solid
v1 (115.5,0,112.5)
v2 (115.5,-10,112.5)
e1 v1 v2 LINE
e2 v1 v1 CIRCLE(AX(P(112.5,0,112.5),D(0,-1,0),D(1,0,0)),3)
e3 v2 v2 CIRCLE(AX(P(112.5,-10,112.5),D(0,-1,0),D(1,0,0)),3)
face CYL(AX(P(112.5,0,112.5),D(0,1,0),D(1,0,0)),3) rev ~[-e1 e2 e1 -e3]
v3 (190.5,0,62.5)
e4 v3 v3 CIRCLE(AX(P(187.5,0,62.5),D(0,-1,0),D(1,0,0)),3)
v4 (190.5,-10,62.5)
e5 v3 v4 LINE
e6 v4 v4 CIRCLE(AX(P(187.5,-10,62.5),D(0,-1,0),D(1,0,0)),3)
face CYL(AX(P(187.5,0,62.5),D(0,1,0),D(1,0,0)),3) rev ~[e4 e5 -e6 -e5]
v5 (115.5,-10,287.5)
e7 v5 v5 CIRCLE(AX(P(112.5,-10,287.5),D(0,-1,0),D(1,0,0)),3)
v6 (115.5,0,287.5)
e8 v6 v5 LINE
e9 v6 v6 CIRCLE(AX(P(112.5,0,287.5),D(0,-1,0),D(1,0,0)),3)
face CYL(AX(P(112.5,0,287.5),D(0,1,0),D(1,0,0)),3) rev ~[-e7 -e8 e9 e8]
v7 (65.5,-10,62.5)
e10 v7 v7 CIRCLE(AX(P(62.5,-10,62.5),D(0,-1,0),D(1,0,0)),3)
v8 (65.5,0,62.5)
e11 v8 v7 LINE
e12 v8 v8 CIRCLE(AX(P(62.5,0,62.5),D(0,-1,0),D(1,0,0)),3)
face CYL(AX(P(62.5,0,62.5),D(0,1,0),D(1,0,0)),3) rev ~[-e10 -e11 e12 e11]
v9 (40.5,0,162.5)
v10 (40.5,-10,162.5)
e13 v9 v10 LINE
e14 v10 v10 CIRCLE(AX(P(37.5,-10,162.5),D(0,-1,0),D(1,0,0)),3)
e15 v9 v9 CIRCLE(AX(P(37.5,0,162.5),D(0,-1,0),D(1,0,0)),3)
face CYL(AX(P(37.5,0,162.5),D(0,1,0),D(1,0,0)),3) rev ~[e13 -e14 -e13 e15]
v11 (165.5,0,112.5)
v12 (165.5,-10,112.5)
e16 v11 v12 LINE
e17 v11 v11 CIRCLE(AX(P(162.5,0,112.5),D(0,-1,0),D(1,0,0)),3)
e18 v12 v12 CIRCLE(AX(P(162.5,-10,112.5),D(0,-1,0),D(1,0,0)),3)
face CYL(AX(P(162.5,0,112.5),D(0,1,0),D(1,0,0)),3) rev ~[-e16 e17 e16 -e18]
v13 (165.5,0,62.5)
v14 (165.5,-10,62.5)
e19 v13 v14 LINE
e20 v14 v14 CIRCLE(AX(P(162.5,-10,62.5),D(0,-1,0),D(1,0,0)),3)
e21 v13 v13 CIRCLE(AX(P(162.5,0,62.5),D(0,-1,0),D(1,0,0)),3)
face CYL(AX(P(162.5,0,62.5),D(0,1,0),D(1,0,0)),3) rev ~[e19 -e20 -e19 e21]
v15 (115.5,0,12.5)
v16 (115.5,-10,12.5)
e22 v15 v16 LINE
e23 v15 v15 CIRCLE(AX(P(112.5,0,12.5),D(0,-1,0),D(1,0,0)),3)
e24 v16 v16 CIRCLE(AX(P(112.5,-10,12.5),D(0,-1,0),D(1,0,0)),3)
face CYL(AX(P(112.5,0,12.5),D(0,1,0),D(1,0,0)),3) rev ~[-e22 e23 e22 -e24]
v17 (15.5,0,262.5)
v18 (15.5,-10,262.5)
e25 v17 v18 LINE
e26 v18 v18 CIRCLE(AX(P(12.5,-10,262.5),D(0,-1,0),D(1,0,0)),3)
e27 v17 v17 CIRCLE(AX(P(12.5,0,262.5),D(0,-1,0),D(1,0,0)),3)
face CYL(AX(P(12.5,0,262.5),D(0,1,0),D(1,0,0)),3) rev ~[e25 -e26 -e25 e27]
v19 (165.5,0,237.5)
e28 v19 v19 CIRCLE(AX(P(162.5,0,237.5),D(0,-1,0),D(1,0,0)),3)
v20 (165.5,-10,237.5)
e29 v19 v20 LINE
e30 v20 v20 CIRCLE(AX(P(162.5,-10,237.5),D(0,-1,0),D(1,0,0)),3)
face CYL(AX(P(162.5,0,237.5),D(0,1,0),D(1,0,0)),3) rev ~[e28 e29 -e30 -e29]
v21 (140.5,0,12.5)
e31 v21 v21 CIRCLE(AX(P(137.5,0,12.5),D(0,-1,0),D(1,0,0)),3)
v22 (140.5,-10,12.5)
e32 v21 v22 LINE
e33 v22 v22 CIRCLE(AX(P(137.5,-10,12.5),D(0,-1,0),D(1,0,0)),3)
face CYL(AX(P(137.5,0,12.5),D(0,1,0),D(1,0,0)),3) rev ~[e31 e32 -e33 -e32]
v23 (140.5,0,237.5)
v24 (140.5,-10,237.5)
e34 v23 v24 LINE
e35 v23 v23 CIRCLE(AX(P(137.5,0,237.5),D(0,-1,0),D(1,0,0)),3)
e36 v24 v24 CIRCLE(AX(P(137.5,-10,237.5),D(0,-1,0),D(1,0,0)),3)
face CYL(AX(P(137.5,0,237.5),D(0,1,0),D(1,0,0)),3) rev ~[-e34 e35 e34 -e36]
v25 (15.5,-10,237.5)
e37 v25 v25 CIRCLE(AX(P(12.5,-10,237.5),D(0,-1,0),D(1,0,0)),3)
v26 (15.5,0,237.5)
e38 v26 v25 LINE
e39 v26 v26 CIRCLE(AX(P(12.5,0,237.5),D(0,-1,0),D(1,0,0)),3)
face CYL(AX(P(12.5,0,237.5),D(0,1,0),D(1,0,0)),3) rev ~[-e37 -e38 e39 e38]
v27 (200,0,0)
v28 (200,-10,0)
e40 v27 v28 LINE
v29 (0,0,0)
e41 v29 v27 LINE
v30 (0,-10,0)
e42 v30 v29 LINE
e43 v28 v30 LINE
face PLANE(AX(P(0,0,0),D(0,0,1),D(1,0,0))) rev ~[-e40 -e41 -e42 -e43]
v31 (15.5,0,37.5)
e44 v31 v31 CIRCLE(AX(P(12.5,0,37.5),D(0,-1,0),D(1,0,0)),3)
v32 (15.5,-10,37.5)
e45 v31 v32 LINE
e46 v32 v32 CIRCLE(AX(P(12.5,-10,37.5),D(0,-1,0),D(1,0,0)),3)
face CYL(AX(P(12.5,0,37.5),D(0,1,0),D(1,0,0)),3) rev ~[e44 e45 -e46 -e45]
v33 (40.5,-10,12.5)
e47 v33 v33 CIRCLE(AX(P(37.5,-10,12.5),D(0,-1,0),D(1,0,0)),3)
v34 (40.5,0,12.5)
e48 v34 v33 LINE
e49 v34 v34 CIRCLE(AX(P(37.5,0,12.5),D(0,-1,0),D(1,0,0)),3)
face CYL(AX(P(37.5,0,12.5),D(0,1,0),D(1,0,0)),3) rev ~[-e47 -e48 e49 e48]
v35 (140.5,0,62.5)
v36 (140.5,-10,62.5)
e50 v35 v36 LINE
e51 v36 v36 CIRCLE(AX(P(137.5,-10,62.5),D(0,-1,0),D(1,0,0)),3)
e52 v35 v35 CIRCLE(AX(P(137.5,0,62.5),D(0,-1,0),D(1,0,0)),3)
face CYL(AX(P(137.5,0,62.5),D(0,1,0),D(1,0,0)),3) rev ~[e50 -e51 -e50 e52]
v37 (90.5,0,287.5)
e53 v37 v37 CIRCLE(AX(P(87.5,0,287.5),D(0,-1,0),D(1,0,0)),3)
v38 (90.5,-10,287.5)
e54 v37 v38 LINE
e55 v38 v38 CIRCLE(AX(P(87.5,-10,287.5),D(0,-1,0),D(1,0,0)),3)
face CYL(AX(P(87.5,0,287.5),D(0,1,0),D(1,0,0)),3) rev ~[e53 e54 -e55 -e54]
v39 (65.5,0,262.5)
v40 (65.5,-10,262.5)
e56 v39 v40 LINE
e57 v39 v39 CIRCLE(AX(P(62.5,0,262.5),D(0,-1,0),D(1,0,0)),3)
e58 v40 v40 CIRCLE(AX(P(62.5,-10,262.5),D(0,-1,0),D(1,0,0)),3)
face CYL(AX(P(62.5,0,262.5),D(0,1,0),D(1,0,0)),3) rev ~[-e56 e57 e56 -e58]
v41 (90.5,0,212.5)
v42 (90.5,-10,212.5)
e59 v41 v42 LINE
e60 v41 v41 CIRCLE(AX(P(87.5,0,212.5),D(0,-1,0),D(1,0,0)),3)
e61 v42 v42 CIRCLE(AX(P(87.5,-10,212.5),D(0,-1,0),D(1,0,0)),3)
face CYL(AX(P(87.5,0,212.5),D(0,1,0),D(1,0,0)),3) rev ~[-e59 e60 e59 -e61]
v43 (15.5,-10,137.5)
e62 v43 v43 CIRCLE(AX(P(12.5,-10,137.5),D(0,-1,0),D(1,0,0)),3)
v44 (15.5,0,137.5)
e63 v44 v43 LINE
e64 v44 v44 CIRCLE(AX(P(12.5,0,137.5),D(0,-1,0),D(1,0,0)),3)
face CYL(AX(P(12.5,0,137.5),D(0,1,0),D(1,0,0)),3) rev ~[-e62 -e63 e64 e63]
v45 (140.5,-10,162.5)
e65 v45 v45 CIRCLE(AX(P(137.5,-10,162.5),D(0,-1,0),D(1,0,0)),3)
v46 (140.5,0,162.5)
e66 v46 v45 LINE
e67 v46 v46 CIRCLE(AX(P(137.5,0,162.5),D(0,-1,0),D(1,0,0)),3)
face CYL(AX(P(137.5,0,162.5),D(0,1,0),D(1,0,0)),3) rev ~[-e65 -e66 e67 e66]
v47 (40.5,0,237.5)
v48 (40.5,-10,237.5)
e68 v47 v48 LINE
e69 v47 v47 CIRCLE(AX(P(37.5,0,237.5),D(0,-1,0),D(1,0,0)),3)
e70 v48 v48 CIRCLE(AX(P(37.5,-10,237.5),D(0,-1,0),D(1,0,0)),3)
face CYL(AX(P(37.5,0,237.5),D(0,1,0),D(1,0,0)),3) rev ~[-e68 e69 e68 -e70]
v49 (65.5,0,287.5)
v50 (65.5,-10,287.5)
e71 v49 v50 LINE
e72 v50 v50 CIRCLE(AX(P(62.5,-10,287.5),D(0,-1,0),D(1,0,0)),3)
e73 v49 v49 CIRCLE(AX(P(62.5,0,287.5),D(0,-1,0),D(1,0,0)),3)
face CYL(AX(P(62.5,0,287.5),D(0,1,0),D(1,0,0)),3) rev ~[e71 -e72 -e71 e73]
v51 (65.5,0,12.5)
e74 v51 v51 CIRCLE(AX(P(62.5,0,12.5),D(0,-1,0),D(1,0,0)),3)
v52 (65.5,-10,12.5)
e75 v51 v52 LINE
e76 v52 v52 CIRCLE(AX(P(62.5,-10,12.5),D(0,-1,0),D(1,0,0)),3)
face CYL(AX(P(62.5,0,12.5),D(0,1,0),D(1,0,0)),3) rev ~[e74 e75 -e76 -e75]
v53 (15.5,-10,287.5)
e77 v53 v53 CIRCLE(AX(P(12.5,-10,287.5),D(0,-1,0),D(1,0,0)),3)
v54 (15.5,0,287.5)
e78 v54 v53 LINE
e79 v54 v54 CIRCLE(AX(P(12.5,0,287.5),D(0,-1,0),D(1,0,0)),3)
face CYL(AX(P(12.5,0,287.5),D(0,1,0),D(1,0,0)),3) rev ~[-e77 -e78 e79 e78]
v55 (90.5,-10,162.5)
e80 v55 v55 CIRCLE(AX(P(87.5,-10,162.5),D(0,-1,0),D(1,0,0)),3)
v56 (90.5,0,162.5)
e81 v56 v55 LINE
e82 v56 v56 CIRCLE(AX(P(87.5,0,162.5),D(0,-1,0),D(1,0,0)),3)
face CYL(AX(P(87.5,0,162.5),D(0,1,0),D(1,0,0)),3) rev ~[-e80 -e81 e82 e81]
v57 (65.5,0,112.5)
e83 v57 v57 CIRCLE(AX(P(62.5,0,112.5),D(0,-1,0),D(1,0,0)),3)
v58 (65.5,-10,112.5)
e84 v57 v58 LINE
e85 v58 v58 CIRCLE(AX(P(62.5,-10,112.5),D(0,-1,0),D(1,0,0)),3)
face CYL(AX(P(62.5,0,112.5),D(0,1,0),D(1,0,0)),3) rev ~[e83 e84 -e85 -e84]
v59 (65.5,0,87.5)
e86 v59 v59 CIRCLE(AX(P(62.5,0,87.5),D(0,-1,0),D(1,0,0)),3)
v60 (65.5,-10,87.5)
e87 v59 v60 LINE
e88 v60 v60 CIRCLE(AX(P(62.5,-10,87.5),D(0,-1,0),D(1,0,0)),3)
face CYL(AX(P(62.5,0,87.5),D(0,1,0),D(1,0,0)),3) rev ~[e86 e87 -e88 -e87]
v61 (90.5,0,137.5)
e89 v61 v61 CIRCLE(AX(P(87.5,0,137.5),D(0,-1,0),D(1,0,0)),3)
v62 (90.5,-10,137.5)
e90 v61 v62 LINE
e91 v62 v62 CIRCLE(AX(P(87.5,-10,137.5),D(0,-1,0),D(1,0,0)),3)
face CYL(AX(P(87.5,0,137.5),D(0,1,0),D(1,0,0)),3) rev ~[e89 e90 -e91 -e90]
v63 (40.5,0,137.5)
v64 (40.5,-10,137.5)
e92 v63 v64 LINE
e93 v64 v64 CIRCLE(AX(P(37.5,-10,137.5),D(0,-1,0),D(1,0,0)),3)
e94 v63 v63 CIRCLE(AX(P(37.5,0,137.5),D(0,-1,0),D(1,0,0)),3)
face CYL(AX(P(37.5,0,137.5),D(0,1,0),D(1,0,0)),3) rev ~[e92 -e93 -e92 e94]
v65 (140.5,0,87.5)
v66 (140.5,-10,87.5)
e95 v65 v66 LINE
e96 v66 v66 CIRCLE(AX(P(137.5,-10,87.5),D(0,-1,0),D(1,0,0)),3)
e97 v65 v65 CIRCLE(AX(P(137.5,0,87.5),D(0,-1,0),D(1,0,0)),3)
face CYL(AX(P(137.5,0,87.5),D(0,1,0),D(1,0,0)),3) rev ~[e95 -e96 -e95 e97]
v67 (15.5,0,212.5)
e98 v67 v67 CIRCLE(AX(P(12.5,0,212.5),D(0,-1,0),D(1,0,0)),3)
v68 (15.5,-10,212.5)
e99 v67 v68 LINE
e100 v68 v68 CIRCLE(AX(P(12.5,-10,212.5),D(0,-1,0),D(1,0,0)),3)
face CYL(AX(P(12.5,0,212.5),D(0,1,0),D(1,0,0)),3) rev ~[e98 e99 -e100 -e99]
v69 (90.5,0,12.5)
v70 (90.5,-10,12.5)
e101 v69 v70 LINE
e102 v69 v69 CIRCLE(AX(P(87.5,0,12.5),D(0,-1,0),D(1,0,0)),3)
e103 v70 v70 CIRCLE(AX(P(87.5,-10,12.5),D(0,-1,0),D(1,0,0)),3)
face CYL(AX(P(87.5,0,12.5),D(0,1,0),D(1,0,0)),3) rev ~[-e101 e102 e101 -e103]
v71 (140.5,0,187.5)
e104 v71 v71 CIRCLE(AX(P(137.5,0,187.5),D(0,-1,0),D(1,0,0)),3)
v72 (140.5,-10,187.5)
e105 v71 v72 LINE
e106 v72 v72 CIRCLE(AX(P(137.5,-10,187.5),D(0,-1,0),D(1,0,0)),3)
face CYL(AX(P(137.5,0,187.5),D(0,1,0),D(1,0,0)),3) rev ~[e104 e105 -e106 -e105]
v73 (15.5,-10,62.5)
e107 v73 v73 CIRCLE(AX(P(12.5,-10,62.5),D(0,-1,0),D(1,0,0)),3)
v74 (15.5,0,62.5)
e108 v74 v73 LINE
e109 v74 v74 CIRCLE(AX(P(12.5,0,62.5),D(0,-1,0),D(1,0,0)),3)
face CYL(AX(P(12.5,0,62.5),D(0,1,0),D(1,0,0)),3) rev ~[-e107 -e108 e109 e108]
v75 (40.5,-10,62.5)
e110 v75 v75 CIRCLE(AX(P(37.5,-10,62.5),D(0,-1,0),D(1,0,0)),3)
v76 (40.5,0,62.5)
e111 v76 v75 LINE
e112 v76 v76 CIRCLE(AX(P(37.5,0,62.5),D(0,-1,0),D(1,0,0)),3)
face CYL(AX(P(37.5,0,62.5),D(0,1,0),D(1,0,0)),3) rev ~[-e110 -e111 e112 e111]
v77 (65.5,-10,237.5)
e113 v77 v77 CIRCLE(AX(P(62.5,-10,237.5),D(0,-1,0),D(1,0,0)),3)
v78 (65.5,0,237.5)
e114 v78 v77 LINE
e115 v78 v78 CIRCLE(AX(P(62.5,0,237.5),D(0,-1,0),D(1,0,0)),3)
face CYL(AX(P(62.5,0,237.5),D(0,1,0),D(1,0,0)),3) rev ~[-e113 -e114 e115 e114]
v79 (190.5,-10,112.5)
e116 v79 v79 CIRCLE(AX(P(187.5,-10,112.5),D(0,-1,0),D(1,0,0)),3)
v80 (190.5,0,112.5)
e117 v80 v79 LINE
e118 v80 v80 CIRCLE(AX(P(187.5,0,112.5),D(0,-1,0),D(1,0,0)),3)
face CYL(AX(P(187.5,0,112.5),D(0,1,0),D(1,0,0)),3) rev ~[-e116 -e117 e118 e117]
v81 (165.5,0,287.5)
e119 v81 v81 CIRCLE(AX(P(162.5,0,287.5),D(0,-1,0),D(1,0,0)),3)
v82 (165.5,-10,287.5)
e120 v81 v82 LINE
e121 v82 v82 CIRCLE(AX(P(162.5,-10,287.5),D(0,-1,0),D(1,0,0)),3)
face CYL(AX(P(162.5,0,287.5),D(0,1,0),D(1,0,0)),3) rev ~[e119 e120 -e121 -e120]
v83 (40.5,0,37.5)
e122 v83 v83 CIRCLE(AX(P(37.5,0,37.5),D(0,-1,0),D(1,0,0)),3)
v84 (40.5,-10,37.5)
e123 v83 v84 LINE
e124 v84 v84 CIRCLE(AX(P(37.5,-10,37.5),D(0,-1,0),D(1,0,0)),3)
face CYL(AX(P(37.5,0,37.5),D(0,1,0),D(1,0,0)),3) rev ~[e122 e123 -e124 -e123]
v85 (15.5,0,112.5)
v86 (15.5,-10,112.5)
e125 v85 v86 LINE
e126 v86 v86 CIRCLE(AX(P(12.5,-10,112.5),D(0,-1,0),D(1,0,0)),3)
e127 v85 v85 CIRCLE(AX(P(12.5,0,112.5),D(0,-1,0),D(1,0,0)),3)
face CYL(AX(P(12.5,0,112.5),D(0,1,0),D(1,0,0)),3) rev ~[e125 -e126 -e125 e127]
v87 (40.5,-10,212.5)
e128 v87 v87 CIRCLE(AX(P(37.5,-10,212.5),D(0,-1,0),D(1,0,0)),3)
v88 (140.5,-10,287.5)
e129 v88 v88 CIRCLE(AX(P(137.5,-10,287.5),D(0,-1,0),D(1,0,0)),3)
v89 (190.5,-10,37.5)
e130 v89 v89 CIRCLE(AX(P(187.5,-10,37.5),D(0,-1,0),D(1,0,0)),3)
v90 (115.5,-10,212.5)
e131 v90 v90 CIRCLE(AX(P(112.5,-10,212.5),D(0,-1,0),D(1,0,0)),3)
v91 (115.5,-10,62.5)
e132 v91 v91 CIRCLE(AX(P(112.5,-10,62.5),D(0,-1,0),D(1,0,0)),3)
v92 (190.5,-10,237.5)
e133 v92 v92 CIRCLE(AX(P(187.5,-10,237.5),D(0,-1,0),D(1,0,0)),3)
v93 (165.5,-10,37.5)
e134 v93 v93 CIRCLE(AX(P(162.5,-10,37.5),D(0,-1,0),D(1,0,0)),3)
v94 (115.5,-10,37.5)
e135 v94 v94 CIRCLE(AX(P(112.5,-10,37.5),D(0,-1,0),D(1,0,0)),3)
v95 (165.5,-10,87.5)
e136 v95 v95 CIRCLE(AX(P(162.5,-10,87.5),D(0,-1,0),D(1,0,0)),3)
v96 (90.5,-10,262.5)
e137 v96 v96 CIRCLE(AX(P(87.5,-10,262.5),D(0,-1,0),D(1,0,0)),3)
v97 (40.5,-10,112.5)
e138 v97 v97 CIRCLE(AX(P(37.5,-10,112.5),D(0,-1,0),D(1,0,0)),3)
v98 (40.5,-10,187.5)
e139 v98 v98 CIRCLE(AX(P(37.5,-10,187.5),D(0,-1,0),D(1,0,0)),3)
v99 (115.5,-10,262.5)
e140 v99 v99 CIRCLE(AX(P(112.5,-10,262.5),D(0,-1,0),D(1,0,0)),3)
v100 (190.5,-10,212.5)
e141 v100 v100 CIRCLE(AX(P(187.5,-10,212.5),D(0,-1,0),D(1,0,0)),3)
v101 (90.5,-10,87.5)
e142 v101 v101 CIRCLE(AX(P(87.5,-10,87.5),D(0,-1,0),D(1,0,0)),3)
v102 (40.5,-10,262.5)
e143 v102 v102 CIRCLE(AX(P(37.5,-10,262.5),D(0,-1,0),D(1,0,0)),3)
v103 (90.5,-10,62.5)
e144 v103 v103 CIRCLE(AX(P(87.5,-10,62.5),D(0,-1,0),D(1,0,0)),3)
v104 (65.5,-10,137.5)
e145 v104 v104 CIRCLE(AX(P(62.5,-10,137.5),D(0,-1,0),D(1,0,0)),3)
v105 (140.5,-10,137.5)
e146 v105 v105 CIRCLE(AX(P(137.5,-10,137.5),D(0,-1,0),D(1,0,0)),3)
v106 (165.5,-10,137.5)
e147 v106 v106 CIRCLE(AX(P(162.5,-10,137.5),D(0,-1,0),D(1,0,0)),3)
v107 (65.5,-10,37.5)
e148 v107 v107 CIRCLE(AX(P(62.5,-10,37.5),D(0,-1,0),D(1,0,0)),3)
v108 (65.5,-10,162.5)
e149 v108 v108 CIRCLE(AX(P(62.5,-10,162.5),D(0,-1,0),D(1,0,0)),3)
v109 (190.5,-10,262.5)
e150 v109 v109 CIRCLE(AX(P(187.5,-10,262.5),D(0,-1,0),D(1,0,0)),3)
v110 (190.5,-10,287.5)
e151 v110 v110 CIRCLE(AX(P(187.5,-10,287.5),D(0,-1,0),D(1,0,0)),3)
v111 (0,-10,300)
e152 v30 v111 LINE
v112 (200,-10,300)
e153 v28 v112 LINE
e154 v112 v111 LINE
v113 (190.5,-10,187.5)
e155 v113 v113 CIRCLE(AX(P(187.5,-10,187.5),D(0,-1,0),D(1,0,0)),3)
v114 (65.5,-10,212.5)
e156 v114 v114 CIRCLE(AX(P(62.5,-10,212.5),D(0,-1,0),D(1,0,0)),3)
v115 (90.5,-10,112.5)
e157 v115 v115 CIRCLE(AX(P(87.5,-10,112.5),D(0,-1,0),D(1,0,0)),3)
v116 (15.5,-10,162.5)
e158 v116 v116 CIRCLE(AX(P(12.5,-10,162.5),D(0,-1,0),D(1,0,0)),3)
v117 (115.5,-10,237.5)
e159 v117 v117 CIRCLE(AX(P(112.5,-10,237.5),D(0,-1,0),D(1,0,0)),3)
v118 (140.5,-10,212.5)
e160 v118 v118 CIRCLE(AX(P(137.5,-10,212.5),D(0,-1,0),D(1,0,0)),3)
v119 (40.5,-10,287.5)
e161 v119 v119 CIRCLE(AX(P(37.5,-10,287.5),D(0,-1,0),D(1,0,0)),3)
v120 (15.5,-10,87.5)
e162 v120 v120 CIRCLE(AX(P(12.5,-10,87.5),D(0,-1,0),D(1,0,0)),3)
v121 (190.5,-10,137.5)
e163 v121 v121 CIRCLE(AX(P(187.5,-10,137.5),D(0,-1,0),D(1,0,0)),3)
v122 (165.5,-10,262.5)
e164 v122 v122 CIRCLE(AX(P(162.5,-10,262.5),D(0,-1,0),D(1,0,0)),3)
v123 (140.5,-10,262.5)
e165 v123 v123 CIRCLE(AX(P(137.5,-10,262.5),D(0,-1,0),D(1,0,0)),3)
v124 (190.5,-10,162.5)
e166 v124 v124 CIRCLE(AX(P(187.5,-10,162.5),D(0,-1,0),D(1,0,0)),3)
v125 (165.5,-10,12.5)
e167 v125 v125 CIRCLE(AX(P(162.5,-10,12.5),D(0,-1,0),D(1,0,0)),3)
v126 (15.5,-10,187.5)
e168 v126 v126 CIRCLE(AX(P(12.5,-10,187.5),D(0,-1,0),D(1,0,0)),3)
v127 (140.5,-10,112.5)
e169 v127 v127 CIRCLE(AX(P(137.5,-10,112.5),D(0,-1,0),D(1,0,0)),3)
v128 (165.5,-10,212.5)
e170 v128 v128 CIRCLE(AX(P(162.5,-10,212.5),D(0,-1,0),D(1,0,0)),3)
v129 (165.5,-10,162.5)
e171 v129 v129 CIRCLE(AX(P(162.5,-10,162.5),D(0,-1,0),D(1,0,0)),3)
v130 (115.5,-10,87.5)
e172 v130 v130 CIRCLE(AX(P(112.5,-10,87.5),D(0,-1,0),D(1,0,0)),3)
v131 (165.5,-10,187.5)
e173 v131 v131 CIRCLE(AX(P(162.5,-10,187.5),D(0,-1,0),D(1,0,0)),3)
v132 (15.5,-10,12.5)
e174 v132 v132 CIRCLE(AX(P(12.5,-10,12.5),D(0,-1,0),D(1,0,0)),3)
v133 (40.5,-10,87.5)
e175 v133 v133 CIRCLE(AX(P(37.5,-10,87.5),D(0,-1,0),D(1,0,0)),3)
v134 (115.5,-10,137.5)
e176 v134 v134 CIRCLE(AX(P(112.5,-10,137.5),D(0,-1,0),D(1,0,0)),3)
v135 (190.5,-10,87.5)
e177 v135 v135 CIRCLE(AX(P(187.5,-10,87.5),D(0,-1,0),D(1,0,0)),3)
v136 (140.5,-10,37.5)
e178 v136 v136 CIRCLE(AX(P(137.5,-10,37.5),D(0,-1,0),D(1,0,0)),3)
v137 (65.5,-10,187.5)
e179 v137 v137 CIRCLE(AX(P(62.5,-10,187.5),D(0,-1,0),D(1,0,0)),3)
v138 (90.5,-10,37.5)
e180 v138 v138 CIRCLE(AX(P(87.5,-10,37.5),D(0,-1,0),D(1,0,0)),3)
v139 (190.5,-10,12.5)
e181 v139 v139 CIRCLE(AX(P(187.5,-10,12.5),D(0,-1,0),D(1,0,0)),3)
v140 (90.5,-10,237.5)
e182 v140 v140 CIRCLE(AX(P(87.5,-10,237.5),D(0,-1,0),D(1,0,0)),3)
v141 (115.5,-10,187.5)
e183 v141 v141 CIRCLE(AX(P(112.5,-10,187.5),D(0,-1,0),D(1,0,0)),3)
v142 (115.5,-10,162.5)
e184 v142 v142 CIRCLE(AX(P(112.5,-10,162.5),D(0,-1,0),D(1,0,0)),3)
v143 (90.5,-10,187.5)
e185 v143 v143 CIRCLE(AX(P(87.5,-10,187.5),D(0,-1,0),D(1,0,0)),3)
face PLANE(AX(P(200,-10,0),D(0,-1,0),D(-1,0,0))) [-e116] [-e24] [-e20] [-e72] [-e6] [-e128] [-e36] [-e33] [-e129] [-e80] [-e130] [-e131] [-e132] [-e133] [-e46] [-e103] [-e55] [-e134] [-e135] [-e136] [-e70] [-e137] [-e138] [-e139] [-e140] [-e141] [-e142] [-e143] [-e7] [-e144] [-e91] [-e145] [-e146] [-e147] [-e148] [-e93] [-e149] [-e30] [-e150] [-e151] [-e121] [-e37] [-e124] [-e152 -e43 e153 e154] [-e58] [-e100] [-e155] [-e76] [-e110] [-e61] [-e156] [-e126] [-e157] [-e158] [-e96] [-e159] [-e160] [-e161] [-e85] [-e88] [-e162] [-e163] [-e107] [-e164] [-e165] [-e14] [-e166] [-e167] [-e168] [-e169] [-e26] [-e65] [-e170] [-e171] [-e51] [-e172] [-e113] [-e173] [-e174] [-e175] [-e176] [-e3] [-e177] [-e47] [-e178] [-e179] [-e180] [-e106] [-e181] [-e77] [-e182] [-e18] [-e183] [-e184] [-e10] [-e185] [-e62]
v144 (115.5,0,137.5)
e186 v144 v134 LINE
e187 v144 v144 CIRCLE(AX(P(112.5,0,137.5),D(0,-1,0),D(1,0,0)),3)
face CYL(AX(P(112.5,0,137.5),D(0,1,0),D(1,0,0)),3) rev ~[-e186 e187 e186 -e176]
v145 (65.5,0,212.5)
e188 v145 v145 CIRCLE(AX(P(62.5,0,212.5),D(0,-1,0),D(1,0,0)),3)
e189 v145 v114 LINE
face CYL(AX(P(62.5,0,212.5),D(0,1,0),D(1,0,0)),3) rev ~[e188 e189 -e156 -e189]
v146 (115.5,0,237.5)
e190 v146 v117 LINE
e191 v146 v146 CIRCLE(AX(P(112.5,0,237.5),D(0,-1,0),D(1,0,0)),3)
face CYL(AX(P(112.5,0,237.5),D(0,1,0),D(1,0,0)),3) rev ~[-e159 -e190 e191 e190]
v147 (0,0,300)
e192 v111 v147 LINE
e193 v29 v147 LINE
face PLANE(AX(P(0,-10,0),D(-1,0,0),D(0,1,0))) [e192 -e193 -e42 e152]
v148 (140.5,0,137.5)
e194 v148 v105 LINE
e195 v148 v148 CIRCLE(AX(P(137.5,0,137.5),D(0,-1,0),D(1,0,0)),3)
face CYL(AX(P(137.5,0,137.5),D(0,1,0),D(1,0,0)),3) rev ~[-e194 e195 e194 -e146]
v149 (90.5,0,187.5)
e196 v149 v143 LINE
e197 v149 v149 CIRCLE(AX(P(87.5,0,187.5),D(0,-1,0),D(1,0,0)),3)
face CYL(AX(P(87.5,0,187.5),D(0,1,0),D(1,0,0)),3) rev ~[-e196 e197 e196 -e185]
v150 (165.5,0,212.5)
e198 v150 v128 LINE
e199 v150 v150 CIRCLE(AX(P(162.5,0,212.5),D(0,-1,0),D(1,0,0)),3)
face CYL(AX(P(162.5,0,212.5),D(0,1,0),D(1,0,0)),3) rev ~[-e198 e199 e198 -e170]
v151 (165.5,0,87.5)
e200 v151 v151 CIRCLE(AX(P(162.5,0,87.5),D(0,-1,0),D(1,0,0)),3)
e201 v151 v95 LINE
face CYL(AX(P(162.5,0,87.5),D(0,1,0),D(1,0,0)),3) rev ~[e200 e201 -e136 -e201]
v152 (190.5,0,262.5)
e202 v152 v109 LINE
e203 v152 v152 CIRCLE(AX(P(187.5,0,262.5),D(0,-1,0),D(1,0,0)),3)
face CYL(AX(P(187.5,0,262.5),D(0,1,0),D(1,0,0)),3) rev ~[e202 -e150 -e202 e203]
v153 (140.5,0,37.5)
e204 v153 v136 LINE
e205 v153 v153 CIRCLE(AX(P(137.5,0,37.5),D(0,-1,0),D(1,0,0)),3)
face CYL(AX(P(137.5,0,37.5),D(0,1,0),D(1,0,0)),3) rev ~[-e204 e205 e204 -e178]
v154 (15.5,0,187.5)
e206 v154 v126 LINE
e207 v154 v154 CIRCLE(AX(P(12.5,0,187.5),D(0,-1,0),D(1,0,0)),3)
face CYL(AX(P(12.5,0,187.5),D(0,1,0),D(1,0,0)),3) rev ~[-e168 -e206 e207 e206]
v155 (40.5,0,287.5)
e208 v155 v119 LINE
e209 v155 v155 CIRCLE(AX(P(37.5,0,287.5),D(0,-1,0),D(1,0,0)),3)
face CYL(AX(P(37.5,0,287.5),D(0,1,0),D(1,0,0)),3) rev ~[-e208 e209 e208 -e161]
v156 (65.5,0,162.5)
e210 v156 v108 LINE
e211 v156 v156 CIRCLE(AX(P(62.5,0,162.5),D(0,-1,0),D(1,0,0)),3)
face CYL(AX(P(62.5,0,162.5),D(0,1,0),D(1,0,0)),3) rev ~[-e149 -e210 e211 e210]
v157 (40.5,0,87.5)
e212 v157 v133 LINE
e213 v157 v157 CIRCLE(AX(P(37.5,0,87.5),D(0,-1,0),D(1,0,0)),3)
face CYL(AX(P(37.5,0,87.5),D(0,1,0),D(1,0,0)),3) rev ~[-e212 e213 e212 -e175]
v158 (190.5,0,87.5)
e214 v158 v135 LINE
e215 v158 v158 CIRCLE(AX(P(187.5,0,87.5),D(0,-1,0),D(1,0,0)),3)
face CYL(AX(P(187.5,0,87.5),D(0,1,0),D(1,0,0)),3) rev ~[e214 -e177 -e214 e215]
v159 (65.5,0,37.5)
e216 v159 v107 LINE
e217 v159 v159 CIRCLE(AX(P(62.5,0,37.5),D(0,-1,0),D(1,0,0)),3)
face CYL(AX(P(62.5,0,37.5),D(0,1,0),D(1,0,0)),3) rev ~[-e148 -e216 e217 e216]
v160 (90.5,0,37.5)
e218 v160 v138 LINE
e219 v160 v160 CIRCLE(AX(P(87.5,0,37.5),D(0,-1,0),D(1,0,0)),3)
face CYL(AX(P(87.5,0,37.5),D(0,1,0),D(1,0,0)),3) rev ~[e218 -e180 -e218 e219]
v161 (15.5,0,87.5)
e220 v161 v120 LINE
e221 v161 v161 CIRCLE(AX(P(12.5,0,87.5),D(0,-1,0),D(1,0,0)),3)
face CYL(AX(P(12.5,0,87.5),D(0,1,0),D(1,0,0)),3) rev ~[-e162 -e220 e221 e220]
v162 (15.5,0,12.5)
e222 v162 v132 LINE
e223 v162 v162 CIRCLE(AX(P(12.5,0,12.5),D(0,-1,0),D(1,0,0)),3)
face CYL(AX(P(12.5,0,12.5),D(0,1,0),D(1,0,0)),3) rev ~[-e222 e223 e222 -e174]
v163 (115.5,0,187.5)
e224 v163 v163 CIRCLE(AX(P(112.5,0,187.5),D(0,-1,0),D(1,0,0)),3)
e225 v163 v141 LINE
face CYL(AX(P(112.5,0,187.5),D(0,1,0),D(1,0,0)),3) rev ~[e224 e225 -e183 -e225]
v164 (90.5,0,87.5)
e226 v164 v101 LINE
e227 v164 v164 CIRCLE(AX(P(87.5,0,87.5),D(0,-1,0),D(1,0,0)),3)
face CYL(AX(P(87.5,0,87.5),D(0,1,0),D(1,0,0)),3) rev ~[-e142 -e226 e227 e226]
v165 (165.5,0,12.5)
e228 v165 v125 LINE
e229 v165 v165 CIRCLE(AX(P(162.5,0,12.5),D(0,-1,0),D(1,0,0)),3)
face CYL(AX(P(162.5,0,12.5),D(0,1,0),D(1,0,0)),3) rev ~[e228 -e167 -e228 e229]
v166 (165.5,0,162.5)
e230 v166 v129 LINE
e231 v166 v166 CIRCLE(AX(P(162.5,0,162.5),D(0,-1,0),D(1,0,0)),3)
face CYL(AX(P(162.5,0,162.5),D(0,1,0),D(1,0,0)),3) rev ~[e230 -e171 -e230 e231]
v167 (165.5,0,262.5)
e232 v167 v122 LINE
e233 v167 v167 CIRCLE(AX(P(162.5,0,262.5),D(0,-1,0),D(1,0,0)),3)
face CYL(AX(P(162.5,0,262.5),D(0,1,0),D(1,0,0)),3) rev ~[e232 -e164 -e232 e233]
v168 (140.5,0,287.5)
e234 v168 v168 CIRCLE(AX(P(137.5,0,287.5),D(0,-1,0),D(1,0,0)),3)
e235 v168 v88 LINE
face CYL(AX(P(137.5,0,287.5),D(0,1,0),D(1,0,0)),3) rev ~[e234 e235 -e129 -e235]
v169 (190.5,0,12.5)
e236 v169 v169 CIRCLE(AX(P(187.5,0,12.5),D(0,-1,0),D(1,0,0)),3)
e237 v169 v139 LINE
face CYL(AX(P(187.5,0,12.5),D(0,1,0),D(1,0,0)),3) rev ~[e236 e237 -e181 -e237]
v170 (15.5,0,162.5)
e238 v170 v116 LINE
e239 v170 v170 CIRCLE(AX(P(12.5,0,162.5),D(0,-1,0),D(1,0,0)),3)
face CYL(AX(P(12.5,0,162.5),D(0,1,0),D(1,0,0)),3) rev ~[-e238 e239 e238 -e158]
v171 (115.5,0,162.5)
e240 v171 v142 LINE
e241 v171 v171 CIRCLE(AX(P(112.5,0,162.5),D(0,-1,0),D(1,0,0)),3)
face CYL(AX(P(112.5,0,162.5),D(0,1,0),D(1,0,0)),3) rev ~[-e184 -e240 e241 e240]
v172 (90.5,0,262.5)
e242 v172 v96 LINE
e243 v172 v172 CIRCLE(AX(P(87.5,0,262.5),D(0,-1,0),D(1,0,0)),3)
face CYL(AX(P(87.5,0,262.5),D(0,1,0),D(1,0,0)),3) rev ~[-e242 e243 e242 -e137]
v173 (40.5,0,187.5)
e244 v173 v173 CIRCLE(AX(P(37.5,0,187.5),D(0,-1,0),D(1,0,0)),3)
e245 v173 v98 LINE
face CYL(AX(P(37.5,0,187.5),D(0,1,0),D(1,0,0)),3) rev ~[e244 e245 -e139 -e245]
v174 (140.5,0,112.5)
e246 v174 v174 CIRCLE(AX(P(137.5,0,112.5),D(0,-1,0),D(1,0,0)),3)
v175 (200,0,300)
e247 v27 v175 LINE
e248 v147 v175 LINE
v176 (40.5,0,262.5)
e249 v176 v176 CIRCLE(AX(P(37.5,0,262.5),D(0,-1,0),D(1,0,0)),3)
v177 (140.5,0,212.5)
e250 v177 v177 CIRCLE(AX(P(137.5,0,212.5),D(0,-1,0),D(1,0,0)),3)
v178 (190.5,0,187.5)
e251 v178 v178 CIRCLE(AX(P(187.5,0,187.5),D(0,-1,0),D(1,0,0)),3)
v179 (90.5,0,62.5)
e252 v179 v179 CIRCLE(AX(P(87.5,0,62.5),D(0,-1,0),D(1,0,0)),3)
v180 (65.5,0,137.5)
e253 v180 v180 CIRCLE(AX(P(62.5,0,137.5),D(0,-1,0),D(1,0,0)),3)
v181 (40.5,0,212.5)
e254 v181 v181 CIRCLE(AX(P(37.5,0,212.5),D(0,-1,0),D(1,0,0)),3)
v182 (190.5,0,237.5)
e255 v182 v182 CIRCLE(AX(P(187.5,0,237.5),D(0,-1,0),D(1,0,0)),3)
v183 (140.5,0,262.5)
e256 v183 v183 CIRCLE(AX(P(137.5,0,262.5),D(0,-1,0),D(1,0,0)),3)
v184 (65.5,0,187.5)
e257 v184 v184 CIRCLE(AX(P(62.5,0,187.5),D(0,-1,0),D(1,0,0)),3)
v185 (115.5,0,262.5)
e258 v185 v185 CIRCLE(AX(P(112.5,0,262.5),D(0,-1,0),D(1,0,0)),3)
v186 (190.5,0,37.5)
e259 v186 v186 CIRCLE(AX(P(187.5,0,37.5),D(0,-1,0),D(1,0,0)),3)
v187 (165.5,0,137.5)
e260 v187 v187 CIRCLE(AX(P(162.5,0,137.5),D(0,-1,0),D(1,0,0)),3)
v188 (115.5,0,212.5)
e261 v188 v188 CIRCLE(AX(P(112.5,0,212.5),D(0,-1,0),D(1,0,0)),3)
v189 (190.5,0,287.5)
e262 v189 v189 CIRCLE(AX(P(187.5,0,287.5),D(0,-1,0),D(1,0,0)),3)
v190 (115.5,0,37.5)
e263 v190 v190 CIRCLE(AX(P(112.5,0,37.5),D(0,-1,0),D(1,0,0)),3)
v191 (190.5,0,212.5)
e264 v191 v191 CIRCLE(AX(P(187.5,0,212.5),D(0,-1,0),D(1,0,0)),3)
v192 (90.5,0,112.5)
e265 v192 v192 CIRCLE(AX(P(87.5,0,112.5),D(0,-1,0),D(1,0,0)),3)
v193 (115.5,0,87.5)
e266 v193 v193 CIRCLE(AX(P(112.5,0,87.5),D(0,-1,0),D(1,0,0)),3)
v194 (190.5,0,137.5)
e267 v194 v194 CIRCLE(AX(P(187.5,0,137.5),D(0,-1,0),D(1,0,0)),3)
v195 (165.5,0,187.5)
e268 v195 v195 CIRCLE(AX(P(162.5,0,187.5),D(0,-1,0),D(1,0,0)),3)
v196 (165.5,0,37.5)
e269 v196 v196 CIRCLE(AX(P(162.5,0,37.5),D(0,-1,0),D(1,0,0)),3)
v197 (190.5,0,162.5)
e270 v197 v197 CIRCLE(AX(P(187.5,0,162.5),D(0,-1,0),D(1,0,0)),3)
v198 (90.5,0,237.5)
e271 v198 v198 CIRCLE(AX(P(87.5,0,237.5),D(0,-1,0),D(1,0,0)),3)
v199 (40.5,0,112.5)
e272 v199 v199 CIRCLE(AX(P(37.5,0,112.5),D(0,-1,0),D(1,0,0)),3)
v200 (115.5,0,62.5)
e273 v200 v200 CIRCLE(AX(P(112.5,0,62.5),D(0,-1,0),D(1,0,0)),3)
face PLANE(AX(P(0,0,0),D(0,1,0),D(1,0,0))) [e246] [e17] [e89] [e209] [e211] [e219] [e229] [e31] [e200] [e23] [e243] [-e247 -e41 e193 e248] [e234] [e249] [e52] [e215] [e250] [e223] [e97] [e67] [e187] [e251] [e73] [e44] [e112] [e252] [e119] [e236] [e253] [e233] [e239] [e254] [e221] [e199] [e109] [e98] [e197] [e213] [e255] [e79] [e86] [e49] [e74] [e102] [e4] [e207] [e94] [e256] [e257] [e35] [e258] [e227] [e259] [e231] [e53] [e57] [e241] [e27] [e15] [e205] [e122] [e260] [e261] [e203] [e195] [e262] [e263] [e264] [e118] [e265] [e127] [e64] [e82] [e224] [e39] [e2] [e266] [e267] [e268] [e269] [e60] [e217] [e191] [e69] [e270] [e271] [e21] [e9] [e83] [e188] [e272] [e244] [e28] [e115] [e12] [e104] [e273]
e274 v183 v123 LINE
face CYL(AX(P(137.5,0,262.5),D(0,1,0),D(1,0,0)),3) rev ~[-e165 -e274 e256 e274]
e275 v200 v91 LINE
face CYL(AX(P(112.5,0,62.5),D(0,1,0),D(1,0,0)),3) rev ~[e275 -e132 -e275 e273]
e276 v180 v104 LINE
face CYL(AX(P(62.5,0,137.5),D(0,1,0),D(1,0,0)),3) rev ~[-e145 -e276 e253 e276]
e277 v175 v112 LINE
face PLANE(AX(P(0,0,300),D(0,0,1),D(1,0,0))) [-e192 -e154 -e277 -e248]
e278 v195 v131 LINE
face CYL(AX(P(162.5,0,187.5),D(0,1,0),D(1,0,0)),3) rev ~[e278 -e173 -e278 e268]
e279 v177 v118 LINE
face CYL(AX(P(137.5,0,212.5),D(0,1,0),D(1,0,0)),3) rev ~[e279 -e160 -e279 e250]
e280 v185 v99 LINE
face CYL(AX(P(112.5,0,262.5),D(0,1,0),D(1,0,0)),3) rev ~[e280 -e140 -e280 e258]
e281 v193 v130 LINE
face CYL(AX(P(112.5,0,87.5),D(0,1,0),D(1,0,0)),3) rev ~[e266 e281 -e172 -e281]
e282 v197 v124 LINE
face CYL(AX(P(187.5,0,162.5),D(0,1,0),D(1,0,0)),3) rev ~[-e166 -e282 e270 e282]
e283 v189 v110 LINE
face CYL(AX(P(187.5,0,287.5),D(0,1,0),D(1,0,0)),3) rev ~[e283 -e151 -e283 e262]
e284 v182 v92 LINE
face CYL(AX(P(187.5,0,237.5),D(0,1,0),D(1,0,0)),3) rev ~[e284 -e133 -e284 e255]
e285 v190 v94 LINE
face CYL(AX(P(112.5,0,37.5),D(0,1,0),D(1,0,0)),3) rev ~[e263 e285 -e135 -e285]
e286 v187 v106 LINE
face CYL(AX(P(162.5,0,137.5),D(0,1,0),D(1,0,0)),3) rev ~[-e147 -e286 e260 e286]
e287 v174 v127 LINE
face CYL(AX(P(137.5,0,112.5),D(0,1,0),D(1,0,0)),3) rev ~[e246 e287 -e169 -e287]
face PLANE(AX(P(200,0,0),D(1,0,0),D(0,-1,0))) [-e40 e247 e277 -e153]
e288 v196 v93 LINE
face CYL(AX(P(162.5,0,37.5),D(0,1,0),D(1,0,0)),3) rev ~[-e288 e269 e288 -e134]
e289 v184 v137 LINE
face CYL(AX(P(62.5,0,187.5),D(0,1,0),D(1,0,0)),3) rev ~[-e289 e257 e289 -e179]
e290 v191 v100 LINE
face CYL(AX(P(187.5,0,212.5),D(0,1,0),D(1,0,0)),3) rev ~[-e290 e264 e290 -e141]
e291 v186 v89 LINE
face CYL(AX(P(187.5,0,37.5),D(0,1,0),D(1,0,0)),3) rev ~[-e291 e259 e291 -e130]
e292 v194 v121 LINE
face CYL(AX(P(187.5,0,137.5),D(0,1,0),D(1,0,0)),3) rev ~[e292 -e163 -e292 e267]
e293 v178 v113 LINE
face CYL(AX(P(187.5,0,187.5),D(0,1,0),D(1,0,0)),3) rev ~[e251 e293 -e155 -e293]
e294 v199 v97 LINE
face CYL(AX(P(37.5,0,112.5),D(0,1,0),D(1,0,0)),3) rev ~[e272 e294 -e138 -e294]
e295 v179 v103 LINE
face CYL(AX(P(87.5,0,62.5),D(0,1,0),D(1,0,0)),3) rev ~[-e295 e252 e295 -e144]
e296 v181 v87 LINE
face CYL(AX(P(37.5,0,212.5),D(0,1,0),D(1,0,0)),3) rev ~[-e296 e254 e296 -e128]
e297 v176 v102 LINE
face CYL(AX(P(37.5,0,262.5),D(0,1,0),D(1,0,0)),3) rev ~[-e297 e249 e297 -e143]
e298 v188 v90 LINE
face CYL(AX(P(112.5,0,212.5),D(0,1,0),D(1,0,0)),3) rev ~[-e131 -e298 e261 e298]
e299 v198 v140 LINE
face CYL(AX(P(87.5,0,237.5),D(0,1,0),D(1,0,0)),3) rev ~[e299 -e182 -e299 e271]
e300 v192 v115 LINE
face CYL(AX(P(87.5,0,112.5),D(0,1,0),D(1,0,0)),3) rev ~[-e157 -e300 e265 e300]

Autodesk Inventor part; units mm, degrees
ref_plane "YZ Plane" through (0, 0, 0) normal (1, 0, 0) x (0, 1, 0)
ref_plane "XZ Plane" through (0, 0, 0) normal (0, 1, 0) x (-1, 0, 0)
ref_plane "XY Plane" through (0, 0, 0) normal (0, 0, 1) x (1, 0, 0)
sketch "Sketch1" plane through (0, 0, 0) normal (0, 0, 1) x (1, 0, 0)
  line L0 (0, 0) -> (200, 0)
  line L1 (200, 0) -> (200, -10)
  line L2 (200, -10) -> (0, -10)
  line L3 (0, -10) -> (0, 0)
  dimension "d0" = 200
  dimension "d1" = 10
extrude "Extrusion1" add sketch "Sketch1" along normal blind 300
sketch "Sketch2" plane through (0, 0, 0) normal (0, 1, 0) x (1, 0, 0)
  line L0 (0, 0) -> (0, -300) projected
  line L1 (0, 0) -> (0, -12.5)
  line L2 (0, -12.5) -> (12.5, -12.5)
  circle A0 centre (12.5, -12.5) radius 3
  dimension "d4" = 12.5
  dimension "d5" = 12.5
  dimension "d6" = 6
extrude "Extrusion2" cut sketch "Sketch2" against normal blind 20
pattern_linear "Rectangular Pattern1" count 8 spacing 25 along (1, 0, 0) count 12 spacing 25 along (0, 0, 1) of "Extrusion2"
properties part number "Optical Breadboard"
